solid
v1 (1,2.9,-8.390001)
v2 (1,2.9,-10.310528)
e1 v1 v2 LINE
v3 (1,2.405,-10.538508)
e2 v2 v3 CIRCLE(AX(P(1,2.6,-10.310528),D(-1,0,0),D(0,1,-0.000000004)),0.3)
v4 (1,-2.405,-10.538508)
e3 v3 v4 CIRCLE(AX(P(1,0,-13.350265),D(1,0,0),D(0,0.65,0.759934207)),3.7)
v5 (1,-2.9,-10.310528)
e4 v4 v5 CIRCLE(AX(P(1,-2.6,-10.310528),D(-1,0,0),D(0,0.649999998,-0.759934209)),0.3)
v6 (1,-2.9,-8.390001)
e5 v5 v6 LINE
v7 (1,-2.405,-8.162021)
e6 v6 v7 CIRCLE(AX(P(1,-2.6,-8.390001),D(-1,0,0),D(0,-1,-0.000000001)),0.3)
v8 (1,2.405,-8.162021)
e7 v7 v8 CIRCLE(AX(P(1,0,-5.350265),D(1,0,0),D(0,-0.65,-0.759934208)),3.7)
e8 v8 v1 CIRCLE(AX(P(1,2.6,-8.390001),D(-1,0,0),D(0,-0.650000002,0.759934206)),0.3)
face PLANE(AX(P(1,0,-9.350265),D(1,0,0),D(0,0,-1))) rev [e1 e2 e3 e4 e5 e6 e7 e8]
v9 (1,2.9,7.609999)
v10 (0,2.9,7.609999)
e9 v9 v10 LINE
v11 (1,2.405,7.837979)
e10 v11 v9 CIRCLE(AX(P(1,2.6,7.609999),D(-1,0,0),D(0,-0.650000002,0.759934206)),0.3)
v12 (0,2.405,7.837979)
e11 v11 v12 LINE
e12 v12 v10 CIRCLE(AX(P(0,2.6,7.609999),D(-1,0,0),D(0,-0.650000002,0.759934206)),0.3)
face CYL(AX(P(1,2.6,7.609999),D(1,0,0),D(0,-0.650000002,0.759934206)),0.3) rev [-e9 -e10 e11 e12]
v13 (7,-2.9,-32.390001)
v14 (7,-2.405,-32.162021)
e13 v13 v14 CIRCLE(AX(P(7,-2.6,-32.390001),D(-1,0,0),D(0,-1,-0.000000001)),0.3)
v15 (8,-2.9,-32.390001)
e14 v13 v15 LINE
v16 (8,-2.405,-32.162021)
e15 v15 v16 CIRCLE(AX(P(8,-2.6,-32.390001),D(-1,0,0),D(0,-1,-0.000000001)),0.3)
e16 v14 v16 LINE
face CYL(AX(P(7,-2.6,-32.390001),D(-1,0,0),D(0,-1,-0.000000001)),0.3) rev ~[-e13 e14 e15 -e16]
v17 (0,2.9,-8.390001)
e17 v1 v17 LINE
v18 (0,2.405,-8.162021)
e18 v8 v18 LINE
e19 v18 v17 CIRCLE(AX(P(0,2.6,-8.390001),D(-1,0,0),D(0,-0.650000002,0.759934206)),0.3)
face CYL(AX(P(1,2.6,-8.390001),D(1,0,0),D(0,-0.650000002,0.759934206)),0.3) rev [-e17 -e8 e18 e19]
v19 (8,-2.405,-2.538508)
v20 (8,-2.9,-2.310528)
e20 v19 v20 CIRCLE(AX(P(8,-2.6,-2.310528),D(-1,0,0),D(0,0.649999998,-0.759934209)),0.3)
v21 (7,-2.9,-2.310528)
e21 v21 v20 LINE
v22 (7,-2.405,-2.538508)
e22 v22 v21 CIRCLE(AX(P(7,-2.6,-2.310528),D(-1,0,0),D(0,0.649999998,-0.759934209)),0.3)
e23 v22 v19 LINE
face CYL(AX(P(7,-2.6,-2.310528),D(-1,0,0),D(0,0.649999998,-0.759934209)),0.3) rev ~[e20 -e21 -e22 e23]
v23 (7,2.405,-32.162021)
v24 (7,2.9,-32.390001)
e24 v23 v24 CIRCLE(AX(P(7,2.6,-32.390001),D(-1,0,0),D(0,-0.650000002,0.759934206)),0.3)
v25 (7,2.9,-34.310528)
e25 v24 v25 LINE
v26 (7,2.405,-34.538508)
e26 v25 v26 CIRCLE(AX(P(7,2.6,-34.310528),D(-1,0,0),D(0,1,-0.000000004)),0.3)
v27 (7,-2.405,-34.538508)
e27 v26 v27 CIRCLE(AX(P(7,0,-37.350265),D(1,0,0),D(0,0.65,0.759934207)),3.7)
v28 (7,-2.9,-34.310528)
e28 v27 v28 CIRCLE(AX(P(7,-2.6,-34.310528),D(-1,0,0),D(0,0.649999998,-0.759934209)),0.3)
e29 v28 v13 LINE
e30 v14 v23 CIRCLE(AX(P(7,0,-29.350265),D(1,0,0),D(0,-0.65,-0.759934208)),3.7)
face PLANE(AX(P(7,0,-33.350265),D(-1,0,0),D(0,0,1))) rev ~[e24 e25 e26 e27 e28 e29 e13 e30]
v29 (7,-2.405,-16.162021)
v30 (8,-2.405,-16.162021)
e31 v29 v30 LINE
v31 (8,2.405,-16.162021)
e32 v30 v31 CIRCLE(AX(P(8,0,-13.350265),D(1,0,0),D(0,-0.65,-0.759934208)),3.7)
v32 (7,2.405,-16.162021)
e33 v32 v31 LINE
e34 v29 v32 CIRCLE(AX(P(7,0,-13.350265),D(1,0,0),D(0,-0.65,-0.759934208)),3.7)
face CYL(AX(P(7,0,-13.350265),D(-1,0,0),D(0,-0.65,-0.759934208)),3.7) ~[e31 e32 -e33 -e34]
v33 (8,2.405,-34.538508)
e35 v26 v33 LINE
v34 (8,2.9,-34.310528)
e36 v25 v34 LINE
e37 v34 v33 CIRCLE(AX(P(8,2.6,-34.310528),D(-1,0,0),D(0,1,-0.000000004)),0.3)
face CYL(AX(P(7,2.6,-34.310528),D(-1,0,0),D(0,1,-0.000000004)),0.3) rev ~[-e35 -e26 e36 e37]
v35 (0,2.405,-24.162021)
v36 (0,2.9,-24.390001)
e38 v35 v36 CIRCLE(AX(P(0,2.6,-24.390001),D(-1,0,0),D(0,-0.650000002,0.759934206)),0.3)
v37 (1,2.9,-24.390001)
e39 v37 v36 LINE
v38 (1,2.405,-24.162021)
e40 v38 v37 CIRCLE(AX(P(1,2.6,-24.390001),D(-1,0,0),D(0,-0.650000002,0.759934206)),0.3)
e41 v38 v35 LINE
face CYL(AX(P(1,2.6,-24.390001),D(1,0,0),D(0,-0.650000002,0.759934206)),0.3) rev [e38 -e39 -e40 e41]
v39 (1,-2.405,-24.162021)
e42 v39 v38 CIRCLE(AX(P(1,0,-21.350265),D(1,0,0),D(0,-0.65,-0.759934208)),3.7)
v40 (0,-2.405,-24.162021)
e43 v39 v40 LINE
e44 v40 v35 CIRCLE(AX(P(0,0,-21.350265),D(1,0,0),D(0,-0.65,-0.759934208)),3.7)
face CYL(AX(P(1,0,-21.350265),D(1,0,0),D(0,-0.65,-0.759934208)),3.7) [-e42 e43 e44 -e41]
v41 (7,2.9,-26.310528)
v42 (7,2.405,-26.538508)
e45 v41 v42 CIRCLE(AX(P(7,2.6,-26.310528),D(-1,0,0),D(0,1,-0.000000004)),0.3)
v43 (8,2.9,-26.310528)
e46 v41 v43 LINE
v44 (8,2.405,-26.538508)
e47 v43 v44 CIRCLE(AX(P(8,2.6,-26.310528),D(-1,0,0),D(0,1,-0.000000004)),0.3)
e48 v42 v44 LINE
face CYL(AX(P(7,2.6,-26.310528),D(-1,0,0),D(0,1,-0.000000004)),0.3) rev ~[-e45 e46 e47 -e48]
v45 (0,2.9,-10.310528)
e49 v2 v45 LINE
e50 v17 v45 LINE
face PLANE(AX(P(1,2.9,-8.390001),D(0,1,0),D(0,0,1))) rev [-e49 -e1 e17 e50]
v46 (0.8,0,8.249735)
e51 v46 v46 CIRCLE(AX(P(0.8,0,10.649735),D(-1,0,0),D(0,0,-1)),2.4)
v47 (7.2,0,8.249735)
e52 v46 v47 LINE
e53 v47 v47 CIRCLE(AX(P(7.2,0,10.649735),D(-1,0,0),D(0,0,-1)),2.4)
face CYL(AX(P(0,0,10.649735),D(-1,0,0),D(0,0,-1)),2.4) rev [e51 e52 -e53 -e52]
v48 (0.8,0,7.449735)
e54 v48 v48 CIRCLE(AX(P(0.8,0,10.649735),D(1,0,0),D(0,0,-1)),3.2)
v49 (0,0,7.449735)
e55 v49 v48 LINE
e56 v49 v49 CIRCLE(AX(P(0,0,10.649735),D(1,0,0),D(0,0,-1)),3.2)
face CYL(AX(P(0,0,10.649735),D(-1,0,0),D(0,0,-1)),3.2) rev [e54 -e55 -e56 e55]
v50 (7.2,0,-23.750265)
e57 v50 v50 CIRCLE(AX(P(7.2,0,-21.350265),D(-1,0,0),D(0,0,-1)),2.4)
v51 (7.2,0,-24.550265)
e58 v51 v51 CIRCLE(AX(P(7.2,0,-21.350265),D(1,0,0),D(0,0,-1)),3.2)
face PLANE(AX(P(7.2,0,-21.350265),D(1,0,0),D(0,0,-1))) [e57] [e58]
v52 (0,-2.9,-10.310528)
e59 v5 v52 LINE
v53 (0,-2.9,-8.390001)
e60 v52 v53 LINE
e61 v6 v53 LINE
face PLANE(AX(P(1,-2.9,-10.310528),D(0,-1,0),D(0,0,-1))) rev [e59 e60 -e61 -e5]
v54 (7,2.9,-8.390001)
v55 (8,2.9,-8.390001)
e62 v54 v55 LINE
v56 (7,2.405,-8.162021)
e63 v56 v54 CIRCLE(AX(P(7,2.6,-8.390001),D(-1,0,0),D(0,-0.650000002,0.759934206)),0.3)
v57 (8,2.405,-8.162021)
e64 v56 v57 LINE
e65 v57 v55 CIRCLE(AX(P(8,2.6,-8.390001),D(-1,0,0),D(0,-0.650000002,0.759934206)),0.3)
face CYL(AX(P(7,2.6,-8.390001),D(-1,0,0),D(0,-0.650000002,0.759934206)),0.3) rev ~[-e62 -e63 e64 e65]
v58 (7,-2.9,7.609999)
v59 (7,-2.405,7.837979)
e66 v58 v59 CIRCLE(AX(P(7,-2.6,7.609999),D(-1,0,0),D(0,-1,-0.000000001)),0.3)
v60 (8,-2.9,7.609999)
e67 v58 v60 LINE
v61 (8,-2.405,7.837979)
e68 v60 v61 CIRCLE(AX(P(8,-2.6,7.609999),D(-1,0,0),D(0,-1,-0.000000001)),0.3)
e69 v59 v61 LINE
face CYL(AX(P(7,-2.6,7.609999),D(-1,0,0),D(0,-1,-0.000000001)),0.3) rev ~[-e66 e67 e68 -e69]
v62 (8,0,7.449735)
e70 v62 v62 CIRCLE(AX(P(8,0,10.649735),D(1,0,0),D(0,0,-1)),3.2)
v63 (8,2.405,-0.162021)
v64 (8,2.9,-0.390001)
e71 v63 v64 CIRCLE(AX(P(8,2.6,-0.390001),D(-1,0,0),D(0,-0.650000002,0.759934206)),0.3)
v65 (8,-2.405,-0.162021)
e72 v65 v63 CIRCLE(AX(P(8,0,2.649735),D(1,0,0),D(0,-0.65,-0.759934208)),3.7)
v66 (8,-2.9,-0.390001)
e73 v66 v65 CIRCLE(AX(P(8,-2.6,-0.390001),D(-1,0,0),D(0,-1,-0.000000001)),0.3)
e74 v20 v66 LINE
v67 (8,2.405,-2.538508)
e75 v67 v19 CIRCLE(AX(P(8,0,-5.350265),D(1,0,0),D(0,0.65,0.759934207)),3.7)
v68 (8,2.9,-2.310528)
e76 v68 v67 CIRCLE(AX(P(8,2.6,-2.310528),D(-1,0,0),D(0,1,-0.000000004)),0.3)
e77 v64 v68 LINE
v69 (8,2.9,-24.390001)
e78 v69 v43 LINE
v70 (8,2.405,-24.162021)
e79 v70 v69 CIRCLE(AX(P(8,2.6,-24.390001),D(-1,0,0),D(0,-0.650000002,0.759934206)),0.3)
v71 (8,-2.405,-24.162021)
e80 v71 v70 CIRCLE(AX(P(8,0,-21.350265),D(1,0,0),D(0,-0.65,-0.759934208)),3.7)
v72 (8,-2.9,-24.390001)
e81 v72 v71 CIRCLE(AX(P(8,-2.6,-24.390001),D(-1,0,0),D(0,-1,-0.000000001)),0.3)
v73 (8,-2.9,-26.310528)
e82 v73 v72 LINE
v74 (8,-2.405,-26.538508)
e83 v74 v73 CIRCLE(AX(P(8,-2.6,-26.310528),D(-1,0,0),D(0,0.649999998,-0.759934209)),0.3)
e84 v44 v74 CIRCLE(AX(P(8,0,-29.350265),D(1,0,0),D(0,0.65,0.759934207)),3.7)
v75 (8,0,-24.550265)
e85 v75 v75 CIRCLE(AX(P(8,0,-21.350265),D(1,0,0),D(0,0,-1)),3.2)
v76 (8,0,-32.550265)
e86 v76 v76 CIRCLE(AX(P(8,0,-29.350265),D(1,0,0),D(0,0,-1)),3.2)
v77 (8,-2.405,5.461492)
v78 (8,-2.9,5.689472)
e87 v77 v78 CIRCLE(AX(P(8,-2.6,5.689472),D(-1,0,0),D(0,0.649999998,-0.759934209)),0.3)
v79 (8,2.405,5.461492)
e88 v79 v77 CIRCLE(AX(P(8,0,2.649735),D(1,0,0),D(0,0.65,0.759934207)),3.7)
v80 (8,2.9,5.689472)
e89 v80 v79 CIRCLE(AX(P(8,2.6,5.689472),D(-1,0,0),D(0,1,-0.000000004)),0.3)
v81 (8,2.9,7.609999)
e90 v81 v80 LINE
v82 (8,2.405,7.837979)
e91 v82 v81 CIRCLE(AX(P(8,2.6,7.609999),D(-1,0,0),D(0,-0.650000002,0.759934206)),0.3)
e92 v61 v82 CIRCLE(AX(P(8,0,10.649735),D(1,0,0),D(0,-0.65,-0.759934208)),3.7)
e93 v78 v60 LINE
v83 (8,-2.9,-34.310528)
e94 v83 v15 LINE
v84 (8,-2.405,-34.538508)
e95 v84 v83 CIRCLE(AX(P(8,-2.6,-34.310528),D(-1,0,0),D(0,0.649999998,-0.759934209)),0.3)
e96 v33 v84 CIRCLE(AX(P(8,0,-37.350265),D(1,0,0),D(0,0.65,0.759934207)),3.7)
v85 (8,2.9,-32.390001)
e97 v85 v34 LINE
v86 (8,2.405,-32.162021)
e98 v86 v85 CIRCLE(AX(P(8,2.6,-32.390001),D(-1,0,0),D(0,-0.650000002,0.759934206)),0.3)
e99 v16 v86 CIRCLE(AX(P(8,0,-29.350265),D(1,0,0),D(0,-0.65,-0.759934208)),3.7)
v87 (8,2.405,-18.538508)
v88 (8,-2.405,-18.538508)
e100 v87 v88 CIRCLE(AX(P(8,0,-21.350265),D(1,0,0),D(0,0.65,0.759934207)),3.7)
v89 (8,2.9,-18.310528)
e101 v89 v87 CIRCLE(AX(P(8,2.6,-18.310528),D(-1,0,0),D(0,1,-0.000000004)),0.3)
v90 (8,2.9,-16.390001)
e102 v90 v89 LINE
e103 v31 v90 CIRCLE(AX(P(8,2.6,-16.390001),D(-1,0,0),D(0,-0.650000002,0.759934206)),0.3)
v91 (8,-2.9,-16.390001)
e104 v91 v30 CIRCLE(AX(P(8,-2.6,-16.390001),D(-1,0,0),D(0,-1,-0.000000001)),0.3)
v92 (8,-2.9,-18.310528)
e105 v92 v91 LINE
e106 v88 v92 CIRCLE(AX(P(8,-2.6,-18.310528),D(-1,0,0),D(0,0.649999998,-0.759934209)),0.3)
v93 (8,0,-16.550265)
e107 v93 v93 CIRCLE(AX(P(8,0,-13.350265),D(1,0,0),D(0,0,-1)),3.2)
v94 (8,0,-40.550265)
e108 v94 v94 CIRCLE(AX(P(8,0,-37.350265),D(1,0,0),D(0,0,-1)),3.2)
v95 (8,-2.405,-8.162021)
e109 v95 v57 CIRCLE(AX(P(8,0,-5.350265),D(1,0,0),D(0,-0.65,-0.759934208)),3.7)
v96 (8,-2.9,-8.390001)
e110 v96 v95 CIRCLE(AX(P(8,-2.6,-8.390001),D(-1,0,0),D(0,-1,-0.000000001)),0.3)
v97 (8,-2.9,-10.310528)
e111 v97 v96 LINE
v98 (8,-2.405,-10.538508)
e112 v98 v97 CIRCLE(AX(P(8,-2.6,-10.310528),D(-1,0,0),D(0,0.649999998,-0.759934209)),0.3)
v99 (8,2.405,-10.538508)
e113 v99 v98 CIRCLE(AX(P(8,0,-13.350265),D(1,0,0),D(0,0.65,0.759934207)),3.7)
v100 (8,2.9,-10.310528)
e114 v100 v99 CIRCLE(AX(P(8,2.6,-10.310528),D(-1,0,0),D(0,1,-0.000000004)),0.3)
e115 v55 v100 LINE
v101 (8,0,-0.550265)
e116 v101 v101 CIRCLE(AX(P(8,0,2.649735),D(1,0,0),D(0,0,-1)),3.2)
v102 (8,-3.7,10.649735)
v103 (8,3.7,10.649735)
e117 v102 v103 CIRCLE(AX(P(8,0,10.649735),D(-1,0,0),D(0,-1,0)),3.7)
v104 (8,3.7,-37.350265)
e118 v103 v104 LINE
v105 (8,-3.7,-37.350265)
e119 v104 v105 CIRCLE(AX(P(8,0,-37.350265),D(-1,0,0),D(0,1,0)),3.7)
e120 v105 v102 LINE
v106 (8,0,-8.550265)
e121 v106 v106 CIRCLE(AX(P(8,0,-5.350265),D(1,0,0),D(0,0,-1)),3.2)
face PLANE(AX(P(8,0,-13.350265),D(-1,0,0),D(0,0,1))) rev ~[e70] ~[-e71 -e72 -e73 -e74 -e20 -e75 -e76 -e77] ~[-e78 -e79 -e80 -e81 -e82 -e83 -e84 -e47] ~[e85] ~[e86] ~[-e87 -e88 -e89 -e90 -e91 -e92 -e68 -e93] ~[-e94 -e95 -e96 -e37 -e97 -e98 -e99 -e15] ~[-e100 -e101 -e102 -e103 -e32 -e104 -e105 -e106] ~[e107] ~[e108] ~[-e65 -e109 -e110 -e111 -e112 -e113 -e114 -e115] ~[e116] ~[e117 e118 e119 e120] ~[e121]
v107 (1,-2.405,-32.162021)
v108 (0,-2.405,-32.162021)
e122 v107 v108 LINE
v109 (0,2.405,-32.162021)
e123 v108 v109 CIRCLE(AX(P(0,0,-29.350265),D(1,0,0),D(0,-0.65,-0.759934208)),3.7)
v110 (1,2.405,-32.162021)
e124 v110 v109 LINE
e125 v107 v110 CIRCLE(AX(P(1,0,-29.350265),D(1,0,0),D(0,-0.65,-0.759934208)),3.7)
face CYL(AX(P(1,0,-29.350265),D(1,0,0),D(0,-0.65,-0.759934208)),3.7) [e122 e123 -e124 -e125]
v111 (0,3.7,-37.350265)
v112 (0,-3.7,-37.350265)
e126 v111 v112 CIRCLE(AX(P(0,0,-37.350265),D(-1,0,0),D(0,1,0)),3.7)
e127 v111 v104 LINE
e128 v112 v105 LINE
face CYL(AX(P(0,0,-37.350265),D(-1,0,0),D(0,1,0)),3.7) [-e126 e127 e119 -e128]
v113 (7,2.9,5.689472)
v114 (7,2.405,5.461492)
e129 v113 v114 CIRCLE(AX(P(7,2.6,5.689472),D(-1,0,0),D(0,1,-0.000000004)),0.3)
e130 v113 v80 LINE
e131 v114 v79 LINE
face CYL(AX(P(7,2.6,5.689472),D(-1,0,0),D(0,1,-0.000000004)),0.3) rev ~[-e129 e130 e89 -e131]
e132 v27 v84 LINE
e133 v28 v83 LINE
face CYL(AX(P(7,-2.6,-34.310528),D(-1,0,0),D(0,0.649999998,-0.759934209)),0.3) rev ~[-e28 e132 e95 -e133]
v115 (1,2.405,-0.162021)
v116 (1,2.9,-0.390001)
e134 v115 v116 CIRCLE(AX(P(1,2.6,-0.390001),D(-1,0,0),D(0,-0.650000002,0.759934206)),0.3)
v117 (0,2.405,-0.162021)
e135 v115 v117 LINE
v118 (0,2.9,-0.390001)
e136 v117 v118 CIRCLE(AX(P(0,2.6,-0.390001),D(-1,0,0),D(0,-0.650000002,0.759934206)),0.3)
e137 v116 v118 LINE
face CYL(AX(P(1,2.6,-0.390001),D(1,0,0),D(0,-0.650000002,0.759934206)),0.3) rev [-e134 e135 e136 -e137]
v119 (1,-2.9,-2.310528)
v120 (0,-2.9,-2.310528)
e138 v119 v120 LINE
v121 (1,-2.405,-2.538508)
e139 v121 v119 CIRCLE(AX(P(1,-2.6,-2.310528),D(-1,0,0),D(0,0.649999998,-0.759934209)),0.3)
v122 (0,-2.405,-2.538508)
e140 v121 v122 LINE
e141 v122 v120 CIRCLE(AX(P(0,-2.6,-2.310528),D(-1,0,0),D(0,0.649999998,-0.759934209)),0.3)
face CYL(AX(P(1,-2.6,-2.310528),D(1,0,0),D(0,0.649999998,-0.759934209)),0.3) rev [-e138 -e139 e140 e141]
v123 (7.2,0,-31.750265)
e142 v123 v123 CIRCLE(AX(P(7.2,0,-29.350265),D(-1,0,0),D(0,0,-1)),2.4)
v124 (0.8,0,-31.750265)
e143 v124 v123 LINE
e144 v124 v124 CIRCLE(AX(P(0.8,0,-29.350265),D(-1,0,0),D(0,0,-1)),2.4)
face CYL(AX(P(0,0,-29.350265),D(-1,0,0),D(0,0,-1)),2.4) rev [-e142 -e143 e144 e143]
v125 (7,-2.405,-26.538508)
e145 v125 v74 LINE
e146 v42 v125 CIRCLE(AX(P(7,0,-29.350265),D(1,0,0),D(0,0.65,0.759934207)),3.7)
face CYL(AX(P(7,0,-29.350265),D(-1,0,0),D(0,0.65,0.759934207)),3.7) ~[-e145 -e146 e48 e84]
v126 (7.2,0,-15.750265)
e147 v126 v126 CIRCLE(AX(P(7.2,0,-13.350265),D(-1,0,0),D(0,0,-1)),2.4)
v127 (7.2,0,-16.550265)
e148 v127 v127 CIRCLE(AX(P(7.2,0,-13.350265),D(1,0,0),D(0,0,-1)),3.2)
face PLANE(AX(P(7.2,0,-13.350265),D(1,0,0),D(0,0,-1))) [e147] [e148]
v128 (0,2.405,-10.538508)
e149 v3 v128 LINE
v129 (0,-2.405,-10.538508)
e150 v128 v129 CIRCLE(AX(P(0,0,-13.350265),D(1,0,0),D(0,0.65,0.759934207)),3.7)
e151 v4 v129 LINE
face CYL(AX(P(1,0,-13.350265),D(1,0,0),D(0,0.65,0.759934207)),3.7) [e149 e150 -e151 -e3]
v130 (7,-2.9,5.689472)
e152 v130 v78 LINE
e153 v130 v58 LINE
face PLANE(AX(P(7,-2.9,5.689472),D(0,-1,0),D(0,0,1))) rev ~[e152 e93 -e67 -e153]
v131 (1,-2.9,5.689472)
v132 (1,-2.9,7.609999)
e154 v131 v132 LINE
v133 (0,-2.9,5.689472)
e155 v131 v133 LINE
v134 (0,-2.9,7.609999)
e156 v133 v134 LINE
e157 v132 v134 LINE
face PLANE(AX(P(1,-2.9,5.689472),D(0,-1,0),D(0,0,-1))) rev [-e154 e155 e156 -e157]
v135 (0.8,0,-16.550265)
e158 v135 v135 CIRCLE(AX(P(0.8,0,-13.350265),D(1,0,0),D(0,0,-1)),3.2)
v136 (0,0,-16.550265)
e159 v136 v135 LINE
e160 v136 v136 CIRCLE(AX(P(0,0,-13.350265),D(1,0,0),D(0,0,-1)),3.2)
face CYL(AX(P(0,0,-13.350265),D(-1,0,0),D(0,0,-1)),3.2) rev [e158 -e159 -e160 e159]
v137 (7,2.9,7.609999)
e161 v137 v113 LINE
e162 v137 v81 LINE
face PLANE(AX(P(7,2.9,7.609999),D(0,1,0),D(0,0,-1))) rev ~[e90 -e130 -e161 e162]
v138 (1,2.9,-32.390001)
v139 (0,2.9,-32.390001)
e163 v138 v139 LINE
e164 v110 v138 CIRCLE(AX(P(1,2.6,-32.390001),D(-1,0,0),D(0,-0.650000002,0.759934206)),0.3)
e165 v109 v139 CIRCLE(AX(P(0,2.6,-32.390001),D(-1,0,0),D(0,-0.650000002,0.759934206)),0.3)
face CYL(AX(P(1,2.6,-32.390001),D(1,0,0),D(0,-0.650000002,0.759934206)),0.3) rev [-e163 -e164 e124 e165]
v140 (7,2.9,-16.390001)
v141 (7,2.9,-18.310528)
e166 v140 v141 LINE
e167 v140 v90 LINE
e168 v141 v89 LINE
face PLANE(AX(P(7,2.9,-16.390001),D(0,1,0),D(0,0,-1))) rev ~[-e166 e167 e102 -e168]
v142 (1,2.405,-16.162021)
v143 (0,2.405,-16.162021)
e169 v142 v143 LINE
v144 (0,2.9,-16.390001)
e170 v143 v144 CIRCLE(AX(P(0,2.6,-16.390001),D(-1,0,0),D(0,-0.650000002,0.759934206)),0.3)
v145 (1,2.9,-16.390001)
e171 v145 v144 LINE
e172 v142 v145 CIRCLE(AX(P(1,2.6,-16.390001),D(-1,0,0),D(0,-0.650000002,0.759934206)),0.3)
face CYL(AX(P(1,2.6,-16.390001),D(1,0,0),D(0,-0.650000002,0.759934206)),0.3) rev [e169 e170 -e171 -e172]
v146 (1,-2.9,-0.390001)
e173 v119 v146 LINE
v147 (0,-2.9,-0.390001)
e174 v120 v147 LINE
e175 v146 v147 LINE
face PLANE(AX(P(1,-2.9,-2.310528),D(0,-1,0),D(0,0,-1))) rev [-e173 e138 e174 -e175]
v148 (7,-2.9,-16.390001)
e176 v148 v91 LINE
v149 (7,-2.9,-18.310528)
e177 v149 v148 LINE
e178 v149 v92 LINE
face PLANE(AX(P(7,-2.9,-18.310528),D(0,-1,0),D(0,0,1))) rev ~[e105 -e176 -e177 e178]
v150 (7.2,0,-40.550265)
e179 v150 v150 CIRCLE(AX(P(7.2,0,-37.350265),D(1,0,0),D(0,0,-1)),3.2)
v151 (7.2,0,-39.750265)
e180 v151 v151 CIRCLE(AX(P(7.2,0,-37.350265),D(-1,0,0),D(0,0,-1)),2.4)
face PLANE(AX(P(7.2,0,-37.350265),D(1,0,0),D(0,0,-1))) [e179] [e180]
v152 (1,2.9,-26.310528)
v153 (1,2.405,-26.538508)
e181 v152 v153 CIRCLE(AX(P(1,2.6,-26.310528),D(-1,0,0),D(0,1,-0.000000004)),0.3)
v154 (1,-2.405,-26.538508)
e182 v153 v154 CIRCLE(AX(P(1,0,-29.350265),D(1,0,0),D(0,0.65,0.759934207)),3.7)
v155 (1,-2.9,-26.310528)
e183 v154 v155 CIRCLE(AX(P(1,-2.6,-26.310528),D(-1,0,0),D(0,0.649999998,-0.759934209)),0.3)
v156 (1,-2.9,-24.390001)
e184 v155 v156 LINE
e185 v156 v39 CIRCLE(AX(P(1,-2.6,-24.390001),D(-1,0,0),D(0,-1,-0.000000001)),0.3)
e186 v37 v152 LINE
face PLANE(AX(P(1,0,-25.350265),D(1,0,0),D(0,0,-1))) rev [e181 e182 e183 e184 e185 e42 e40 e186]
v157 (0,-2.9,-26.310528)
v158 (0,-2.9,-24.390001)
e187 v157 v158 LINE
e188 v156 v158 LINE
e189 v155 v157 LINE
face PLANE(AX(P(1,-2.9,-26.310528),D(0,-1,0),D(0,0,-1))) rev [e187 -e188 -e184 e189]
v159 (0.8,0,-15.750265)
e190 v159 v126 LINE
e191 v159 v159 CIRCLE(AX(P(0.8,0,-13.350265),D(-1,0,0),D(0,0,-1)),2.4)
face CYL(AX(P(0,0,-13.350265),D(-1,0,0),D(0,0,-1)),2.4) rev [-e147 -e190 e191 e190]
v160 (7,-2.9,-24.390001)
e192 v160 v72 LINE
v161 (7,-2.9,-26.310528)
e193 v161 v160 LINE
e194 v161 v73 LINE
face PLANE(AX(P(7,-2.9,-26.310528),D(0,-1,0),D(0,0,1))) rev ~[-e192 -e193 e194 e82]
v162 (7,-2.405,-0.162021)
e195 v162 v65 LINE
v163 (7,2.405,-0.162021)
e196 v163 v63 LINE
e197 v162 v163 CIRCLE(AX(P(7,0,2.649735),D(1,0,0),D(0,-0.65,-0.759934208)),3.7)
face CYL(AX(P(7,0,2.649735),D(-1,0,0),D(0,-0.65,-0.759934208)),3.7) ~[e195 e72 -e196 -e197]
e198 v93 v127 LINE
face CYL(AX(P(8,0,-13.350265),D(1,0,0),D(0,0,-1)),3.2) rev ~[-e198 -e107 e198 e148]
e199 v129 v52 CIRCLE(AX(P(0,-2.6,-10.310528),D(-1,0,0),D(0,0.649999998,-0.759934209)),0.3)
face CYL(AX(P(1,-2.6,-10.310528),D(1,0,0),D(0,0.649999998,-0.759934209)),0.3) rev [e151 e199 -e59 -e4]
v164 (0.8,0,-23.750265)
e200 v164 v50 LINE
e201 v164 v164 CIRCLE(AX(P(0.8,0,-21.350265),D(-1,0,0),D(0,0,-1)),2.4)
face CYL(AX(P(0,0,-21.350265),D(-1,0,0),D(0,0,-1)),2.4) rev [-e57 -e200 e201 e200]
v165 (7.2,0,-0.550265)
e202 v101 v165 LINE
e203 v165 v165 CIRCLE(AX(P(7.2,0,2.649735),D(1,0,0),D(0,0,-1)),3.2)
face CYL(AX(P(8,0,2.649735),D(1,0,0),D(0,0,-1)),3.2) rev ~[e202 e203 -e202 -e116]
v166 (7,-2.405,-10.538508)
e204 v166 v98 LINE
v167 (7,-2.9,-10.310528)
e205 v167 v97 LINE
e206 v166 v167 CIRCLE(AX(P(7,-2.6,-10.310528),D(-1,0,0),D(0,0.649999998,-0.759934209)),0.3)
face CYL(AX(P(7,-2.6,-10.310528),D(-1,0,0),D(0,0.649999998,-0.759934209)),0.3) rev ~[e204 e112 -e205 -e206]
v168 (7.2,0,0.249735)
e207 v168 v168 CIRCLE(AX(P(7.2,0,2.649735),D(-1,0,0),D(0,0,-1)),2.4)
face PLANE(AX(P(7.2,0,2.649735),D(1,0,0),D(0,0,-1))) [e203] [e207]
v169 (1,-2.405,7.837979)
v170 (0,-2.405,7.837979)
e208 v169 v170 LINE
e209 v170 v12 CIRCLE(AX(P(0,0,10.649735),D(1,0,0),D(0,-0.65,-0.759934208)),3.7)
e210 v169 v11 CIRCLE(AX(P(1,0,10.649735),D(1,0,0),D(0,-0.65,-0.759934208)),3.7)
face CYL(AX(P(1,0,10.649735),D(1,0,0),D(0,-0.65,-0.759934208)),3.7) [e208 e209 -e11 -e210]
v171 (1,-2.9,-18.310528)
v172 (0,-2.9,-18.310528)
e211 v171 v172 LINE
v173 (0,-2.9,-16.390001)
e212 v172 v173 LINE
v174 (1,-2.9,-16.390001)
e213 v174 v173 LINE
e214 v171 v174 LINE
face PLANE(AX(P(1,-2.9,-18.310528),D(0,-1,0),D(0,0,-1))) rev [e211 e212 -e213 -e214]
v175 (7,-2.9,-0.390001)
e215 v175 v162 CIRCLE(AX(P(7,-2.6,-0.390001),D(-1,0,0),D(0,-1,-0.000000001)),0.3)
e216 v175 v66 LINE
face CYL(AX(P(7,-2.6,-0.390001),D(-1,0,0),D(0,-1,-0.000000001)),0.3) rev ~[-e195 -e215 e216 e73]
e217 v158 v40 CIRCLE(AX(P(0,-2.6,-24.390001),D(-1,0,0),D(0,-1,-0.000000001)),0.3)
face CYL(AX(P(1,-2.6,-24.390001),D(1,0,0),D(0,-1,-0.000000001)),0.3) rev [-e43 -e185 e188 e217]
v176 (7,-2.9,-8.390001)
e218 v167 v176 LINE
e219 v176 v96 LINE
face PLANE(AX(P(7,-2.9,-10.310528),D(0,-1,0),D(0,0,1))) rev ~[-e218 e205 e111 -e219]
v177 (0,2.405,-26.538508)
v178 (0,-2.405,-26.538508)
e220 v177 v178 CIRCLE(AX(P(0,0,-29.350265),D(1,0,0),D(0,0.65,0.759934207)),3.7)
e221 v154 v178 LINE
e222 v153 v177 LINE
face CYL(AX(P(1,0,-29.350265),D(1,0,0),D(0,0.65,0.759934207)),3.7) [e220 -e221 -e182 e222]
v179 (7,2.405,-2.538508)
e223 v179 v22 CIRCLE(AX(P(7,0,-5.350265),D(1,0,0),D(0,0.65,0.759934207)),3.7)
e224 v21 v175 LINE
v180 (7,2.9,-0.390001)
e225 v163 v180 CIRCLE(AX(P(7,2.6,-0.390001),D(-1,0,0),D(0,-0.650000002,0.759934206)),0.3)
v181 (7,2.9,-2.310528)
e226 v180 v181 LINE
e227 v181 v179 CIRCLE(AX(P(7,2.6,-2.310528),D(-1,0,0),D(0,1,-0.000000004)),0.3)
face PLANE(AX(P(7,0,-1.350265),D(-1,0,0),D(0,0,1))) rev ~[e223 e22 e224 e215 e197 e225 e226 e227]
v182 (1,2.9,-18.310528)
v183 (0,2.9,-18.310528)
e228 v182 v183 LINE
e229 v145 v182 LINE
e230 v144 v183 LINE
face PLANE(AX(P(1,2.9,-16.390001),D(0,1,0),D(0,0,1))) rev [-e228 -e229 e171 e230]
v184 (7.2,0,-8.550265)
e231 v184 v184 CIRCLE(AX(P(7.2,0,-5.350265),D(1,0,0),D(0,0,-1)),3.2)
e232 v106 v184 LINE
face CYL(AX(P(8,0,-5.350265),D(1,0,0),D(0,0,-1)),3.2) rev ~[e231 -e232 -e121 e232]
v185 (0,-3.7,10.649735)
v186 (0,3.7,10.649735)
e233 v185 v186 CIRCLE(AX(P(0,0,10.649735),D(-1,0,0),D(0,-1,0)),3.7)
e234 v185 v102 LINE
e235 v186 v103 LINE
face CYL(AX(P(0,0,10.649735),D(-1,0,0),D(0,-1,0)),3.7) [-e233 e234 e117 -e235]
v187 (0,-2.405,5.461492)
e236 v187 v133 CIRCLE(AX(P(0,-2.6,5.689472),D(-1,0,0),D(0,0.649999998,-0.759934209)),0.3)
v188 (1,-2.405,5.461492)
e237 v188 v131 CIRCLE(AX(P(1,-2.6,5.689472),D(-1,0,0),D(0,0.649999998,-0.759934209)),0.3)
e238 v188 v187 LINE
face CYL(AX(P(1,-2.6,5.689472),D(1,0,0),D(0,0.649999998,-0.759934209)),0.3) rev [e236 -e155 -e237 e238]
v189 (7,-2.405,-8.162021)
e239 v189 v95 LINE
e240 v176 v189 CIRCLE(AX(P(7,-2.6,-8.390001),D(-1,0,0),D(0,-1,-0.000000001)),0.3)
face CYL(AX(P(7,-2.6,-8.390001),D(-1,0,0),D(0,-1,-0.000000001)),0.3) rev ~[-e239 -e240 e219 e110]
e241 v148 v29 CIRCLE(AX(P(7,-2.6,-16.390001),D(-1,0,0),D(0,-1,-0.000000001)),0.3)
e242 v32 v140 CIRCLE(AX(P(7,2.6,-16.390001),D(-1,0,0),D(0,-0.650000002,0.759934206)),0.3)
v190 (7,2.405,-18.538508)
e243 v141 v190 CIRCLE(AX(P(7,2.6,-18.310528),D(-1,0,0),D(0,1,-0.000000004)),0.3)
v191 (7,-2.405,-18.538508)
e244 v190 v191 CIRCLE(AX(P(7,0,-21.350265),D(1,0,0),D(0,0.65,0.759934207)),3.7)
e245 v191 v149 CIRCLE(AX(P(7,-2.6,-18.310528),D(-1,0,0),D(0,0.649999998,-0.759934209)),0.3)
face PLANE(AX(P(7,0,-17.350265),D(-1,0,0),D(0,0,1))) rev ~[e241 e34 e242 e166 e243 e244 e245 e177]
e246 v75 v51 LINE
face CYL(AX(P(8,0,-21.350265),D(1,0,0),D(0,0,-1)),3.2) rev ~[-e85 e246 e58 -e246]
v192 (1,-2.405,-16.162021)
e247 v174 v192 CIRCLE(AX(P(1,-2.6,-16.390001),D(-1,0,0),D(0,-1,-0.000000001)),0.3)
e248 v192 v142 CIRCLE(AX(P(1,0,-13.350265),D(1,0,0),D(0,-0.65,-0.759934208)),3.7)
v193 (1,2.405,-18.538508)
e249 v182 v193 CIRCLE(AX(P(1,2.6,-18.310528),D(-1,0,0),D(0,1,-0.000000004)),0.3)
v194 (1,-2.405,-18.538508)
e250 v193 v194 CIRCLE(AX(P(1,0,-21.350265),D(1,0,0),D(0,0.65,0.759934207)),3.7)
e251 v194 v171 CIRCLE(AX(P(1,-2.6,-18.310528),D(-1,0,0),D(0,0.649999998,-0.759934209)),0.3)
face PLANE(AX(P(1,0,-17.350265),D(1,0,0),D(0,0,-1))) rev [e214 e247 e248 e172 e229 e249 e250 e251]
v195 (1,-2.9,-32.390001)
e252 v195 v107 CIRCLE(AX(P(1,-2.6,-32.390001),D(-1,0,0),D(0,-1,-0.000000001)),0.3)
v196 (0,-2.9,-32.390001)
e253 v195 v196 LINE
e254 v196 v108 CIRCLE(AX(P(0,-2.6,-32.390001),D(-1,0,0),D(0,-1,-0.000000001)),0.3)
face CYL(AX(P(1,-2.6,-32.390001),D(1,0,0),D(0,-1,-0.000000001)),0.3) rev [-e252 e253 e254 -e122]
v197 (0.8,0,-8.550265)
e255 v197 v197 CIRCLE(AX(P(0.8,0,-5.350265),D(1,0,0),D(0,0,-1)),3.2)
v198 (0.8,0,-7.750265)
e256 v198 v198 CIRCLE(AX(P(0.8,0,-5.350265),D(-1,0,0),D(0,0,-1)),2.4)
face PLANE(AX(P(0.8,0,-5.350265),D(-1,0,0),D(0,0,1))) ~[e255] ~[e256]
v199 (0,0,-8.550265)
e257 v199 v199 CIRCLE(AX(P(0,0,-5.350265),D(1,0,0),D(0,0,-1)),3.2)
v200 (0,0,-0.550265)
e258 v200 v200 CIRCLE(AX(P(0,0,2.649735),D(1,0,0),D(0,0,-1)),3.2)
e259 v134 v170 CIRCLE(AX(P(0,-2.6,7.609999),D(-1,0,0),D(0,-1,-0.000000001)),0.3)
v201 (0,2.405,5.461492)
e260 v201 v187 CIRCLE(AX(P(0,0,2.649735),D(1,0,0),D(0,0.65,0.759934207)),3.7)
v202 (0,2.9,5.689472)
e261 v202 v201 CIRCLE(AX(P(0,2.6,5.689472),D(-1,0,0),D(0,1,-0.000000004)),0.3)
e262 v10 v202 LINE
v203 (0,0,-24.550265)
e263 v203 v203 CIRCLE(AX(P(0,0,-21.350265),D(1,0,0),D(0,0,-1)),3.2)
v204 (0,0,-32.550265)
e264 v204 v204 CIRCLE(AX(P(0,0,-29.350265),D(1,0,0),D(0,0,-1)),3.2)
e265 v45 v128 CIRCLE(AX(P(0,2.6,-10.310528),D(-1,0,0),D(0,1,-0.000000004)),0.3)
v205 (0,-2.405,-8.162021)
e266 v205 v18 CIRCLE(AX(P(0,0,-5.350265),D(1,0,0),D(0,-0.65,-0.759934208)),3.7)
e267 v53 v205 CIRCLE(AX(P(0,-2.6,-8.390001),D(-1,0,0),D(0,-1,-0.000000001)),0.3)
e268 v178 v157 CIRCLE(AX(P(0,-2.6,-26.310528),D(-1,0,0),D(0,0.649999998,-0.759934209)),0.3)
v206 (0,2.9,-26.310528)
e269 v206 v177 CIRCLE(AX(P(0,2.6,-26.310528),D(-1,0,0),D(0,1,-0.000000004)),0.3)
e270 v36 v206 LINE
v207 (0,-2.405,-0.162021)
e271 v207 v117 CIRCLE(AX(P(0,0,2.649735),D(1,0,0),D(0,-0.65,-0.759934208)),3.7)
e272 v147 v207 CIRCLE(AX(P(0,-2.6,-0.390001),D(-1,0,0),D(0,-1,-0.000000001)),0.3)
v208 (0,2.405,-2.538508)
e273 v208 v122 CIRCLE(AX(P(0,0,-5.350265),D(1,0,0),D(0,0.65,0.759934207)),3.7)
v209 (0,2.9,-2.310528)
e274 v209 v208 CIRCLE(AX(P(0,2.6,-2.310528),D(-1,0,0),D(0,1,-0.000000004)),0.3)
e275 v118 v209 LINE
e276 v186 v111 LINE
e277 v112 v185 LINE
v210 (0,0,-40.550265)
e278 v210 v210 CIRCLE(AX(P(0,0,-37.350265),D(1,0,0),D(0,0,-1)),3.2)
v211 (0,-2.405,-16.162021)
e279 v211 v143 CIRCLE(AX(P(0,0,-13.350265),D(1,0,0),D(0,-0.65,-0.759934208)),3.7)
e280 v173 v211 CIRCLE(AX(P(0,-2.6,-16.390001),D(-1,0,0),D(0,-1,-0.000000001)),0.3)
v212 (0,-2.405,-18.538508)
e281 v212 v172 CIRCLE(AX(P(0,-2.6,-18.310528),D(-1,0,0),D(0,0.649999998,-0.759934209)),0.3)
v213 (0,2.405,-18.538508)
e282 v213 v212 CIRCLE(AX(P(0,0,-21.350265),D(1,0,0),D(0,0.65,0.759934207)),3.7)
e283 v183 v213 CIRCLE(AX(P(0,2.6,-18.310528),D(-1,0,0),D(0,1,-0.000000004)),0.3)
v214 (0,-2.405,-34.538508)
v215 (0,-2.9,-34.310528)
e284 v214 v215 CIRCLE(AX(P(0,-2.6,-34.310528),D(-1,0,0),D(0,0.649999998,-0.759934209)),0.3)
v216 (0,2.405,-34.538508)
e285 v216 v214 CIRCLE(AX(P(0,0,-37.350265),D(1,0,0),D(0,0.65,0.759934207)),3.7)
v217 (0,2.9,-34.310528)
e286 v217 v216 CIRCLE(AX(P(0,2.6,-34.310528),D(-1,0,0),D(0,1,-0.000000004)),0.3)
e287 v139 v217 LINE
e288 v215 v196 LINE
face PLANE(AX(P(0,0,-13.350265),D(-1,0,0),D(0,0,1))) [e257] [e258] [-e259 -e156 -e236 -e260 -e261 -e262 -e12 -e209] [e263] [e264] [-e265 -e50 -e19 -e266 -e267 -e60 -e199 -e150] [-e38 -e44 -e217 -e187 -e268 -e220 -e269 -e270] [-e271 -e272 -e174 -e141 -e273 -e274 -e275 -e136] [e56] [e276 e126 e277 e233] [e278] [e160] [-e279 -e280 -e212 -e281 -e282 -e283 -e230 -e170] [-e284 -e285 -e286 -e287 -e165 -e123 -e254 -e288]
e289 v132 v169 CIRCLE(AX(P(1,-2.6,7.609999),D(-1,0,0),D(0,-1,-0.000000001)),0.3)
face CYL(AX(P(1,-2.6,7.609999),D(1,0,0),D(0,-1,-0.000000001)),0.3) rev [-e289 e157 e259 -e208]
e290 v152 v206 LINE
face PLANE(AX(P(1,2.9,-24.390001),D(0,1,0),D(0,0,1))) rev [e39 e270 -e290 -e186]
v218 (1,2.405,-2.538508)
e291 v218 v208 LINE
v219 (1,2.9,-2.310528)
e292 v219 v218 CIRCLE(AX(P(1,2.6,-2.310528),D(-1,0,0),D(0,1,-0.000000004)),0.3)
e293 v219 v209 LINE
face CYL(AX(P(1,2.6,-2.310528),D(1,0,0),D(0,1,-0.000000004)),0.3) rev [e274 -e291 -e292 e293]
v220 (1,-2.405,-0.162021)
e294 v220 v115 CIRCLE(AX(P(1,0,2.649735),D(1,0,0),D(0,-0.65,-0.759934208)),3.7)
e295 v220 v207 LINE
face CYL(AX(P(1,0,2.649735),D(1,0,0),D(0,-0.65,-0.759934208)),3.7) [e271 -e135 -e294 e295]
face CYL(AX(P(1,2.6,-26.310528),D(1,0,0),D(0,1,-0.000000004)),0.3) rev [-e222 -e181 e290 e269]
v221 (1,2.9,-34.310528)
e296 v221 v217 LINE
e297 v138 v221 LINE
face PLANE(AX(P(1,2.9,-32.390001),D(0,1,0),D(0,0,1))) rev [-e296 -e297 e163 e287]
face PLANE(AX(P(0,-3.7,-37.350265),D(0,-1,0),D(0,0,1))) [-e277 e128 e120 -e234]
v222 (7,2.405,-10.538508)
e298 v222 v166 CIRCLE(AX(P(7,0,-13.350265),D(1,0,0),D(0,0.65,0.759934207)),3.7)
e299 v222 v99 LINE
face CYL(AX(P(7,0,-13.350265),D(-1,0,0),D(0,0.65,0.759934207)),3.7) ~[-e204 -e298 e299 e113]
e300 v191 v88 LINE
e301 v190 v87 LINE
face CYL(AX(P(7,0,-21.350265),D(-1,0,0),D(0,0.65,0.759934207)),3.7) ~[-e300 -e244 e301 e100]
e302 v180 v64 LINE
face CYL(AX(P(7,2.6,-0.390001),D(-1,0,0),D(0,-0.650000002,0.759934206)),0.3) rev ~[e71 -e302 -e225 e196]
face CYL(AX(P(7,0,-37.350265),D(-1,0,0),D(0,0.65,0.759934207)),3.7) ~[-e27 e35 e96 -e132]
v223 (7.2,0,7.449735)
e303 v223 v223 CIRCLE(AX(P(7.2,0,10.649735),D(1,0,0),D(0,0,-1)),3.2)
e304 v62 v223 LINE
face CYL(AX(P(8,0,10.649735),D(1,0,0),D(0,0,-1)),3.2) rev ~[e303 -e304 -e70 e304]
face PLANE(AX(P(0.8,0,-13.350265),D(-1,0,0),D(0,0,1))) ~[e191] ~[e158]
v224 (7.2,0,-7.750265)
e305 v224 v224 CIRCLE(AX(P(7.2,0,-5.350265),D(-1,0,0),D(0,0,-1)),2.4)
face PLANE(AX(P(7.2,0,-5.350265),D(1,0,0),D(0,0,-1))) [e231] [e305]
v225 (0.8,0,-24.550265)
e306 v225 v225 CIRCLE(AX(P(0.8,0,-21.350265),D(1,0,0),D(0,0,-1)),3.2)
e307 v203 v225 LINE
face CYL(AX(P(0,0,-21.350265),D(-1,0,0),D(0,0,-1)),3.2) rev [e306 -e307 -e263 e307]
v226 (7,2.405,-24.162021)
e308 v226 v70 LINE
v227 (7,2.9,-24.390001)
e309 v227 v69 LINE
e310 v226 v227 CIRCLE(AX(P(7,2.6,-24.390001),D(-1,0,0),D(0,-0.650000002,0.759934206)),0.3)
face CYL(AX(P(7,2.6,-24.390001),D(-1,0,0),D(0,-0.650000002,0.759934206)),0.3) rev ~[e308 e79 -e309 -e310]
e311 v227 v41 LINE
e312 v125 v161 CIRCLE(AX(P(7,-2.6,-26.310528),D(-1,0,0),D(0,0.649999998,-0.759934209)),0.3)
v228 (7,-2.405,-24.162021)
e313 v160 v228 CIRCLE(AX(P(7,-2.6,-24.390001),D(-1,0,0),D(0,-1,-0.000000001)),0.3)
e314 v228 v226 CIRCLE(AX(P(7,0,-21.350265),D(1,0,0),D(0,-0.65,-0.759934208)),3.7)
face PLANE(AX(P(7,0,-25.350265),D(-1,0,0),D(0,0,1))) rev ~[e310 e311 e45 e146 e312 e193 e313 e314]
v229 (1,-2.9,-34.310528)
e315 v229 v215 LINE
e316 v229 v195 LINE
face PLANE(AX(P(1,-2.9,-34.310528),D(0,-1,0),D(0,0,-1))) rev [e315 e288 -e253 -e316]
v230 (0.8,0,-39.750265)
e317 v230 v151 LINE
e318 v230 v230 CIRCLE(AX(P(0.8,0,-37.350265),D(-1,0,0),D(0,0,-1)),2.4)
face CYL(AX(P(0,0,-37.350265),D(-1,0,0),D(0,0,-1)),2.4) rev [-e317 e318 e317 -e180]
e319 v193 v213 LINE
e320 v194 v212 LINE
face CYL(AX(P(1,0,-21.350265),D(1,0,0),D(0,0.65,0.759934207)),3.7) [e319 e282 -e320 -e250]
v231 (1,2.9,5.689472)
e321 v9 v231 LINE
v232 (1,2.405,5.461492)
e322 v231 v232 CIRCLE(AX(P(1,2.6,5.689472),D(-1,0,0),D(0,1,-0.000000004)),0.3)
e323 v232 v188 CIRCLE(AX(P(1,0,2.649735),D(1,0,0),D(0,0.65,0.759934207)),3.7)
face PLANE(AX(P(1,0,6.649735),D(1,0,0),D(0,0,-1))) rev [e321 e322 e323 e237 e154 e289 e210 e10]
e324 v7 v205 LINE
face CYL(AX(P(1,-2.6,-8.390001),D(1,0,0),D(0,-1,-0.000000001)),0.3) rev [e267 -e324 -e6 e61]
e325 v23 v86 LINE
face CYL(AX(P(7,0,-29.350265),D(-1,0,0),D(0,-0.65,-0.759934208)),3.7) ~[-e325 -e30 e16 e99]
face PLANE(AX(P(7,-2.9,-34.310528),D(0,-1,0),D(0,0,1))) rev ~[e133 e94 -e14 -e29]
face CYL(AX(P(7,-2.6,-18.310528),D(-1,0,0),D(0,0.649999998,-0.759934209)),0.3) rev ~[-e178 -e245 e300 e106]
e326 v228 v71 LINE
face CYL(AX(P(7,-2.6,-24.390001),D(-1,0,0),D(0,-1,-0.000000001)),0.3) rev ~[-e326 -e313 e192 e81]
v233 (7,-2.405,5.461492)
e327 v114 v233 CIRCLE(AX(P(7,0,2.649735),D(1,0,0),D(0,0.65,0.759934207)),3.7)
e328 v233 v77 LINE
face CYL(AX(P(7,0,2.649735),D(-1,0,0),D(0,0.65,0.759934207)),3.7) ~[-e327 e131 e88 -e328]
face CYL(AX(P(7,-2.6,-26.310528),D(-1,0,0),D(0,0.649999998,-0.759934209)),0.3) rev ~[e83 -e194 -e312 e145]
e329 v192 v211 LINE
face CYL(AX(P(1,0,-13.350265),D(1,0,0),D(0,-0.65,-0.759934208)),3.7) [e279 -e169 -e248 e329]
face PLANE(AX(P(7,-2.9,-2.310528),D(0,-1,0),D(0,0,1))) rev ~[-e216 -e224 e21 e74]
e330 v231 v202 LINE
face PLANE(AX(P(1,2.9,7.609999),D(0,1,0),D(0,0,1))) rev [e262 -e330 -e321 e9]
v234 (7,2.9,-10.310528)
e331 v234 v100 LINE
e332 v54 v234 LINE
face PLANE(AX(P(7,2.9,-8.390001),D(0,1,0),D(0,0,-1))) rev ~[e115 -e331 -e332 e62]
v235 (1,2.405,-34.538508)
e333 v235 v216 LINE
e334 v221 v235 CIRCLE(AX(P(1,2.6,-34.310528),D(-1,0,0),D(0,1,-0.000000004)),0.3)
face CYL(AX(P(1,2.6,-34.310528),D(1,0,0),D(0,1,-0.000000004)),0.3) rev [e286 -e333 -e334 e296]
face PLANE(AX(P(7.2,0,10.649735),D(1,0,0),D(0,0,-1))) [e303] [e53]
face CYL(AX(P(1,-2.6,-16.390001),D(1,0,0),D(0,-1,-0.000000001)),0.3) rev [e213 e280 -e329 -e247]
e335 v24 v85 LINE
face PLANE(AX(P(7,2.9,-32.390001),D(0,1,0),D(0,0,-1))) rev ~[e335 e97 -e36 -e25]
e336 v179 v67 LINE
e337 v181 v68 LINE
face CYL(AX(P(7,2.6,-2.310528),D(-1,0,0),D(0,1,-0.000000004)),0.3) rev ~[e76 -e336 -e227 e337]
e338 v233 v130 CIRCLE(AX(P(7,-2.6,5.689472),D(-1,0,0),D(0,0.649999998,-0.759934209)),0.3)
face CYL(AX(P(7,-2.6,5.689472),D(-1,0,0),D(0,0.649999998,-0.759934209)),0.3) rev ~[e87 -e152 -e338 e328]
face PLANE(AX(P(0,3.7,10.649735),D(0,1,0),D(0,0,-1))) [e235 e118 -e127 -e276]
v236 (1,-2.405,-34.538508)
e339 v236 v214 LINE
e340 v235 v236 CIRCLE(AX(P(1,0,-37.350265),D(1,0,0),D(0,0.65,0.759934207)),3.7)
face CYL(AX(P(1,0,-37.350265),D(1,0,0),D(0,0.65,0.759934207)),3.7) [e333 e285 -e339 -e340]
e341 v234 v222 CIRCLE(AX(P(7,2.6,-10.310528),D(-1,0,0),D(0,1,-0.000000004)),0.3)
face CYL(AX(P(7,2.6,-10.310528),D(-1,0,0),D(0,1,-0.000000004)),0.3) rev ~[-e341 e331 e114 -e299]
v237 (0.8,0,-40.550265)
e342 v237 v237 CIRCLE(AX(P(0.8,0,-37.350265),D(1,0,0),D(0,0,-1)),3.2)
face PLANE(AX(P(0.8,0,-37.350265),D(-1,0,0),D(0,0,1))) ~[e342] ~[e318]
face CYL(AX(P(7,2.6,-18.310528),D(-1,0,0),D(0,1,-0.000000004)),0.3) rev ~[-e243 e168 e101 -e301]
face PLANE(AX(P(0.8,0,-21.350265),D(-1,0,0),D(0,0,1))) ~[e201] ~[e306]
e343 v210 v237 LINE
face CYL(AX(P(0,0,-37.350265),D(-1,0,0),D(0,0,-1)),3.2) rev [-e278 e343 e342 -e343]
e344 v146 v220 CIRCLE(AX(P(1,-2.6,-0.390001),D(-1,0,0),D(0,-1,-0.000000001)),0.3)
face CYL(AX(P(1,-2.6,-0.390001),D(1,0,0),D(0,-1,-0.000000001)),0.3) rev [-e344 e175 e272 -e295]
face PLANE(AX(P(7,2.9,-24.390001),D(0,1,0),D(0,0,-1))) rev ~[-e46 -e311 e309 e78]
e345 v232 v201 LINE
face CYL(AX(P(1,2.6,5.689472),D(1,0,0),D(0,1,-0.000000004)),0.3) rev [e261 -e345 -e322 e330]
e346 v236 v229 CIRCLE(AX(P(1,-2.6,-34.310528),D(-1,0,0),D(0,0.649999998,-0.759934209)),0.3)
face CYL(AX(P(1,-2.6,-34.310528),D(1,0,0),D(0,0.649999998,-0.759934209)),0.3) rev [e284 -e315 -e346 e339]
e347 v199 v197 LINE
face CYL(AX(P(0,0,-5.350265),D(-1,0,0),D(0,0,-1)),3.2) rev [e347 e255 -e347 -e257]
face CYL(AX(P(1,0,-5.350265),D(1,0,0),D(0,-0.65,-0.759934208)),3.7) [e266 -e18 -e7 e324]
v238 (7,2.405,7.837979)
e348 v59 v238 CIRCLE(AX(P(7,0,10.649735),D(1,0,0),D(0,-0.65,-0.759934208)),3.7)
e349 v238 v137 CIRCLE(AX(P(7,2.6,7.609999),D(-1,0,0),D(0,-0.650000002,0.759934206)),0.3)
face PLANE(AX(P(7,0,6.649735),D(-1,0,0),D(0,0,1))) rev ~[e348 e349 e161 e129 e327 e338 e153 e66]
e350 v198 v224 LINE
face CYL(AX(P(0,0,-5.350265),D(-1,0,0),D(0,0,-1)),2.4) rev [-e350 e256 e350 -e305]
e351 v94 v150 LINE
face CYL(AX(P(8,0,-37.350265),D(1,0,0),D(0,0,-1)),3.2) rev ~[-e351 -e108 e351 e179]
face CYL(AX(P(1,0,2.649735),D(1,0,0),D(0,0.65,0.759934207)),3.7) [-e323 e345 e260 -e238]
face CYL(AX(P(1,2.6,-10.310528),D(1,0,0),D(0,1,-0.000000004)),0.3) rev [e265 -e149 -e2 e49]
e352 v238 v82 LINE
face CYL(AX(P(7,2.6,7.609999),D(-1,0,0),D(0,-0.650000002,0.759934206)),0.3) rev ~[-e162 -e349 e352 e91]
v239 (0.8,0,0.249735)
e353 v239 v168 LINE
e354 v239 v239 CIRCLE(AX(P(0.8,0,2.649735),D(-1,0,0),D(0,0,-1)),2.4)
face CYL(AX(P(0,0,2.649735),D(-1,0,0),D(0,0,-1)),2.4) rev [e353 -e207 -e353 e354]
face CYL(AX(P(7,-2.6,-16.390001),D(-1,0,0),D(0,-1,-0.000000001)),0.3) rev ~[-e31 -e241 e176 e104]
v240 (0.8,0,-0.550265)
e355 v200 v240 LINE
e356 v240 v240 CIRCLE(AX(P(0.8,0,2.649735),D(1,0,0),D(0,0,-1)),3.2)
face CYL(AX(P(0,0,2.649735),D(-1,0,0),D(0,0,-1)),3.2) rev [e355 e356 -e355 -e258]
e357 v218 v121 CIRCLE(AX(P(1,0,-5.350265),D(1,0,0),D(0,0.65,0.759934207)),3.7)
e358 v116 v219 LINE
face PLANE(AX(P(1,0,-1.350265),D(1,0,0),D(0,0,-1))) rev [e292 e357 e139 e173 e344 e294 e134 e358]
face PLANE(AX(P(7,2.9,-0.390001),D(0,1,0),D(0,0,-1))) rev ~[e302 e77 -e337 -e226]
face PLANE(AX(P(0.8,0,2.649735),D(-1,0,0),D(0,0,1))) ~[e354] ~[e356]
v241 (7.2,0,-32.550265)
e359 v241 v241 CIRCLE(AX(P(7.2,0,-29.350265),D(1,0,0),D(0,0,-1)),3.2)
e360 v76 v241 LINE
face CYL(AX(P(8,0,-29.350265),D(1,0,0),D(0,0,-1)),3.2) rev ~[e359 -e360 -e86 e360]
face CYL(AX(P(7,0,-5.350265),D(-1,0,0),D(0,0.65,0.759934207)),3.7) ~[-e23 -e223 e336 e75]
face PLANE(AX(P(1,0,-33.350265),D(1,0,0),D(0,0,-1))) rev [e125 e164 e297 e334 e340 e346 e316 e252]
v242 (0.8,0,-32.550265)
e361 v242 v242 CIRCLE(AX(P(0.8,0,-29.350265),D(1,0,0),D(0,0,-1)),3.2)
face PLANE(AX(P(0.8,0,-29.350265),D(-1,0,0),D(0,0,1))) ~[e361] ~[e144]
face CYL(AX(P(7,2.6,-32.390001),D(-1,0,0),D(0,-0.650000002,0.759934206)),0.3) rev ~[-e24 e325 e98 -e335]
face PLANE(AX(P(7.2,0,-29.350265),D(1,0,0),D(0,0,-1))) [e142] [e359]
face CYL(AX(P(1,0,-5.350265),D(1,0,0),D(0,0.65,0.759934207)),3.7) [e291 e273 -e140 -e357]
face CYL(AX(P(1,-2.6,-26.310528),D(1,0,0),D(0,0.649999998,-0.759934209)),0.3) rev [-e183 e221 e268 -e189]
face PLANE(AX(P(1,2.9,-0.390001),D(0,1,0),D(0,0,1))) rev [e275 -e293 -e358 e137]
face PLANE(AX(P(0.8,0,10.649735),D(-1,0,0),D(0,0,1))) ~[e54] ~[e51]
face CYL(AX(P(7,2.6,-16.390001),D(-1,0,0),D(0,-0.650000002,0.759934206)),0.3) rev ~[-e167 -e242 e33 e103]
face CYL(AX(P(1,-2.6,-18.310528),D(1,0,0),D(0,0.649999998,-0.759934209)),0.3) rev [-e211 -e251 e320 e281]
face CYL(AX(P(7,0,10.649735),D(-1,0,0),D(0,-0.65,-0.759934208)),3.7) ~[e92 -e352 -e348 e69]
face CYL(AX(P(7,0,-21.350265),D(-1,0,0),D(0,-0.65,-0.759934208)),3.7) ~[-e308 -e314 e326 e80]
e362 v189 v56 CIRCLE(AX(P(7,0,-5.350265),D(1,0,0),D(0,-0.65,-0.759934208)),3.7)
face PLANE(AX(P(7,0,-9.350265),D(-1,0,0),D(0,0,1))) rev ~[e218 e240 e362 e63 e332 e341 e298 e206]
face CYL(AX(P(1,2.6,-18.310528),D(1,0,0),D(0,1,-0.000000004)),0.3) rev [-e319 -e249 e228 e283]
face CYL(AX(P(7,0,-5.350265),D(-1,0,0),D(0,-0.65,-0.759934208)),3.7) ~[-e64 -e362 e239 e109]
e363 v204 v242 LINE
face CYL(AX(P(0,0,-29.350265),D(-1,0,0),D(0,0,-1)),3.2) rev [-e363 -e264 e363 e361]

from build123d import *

# Parameters (mm, degrees)
SKETCH1_R           = 2.4
BOSS_EXTRUDE1_DEPTH = 8
SKETCH2_R           = 3.2
CUT_EXTRUDE1_DEPTH  = 0.8
CUT_EXTRUDE2_START  = -1
CUT_EXTRUDE2_DEPTH  = 1


with BuildPart() as part:
    # Sketch1 → Boss-Extrude1 (new body)
    with BuildSketch(Plane(origin=(0, 0, 0), x_dir=(0, 0, -1), z_dir=(1, 0, 0))):
        with BuildLine():
            Line((-10.64973545, 3.7), (37.35026455, 3.7))
            ThreePointArc((37.35026455, 3.7), (41.05026455, 0), (37.35026455, -3.7))
            Line((37.35026455, -3.7), (-10.64973545, -3.7))
            ThreePointArc((-10.64973545, -3.7), (-14.34973545, 0), (-10.64973545, 3.7))
        make_face()
        with Locations((-10.64973545, 0)):
            Circle(SKETCH1_R, mode=Mode.SUBTRACT)
        with Locations((-2.64973545, 0)):
            Circle(SKETCH1_R, mode=Mode.SUBTRACT)
        with Locations((5.35026455, 0)):
            Circle(SKETCH1_R, mode=Mode.SUBTRACT)
        with Locations((13.35026455, 0)):
            Circle(SKETCH1_R, mode=Mode.SUBTRACT)
        with Locations((21.35026455, 0)):
            Circle(SKETCH1_R, mode=Mode.SUBTRACT)
        with Locations((29.35026455, 0)):
            Circle(SKETCH1_R, mode=Mode.SUBTRACT)
        with Locations((37.35026455, 0)):
            Circle(SKETCH1_R, mode=Mode.SUBTRACT)
    extrude(amount=BOSS_EXTRUDE1_DEPTH)

    # Sketch2 → Cut-Extrude1 (cut)
    with BuildSketch(Plane(origin=(8, 0, 0), x_dir=(0, 0, -1), z_dir=(1, 0, 0))):
        with Locations((-10.64973545, 0)):
            Circle(SKETCH2_R)
        with Locations((-2.64973545, 0)):
            Circle(SKETCH2_R)
        with Locations((5.35026455, 0)):
            Circle(SKETCH2_R)
        with Locations((13.35026455, 0)):
            Circle(SKETCH2_R)
        with Locations((21.35026455, 0)):
            Circle(SKETCH2_R)
        with Locations((29.35026455, 0)):
            Circle(SKETCH2_R)
        with Locations((37.35026455, 0)):
            Circle(SKETCH2_R)
    cut_extrude1 = extrude(amount=-CUT_EXTRUDE1_DEPTH, mode=Mode.SUBTRACT)

    # Sketch3 → Cut-Extrude2 (cut)
    with BuildSketch(Plane(origin=(8, 0, 0), x_dir=(0, 0, -1), z_dir=(1, 0, 0)).offset(CUT_EXTRUDE2_START)):
        with BuildLine():
            Line((-7.609998619, 2.9), (-5.68947228, 2.9))
            ThreePointArc((-5.68947228, 2.9), (-5.416983749, 2.725499004), (-5.461492018, 2.405))
            ThreePointArc((-5.461492018, 2.405), (-6.34973545, 0), (-5.461492018, -2.405))
            ThreePointArc((-5.461492018, -2.405), (-5.416983749, -2.725499004), (-5.68947228, -2.9))
            Line((-5.68947228, -2.9), (-7.609998619, -2.9))
            ThreePointArc((-7.609998619, -2.9), (-7.882487151, -2.725499004), (-7.837978881, -2.405))
            ThreePointArc((-7.837978881, -2.405), (-6.94973545, 0), (-7.837978881, 2.405))
            ThreePointArc((-7.837978881, 2.405), (-7.882487151, 2.725499004), (-7.609998619, 2.9))
        make_face()
        with BuildLine():
            Line((0.390001381, 2.9), (2.31052772, 2.9))
            ThreePointArc((2.31052772, 2.9), (2.583016251, 2.725499004), (2.538507982, 2.405))
            ThreePointArc((2.538507982, 2.405), (1.65026455, 0), (2.538507982, -2.405))
            ThreePointArc((2.538507982, -2.405), (2.583016251, -2.725499004), (2.31052772, -2.9))
            Line((2.31052772, -2.9), (0.390001381, -2.9))
            ThreePointArc((0.390001381, -2.9), (0.117512849, -2.725499004), (0.162021119, -2.405))
            ThreePointArc((0.162021119, -2.405), (1.05026455, 0), (0.162021119, 2.405))
            ThreePointArc((0.162021119, 2.405), (0.117512849, 2.725499004), (0.390001381, 2.9))
        make_face()
        with BuildLine():
            Line((8.390001381, 2.9), (10.31052772, 2.9))
            ThreePointArc((10.31052772, 2.9), (10.583016251, 2.725499004), (10.538507982, 2.405))
            ThreePointArc((10.538507982, 2.405), (9.65026455, 0), (10.538507982, -2.405))
            ThreePointArc((10.538507982, -2.405), (10.583016251, -2.725499004), (10.31052772, -2.9))
            Line((10.31052772, -2.9), (8.390001381, -2.9))
            ThreePointArc((8.390001381, -2.9), (8.117512849, -2.725499004), (8.162021119, -2.405))
            ThreePointArc((8.162021119, -2.405), (9.05026455, 0), (8.162021119, 2.405))
            ThreePointArc((8.162021119, 2.405), (8.117512849, 2.725499004), (8.390001381, 2.9))
        make_face()
        with BuildLine():
            Line((16.390001381, 2.9), (18.31052772, 2.9))
            ThreePointArc((18.31052772, 2.9), (18.583016251, 2.725499004), (18.538507982, 2.405))
            ThreePointArc((18.538507982, 2.405), (17.65026455, 0), (18.538507982, -2.405))
            ThreePointArc((18.538507982, -2.405), (18.583016251, -2.725499004), (18.31052772, -2.9))
            Line((18.31052772, -2.9), (16.390001381, -2.9))
            ThreePointArc((16.390001381, -2.9), (16.117512849, -2.725499004), (16.162021119, -2.405))
            ThreePointArc((16.162021119, -2.405), (17.05026455, 0), (16.162021119, 2.405))
            ThreePointArc((16.162021119, 2.405), (16.117512849, 2.725499004), (16.390001381, 2.9))
        make_face()
        with BuildLine():
            Line((24.390001381, 2.9), (26.31052772, 2.9))
            ThreePointArc((26.31052772, 2.9), (26.583016251, 2.725499004), (26.538507982, 2.405))
            ThreePointArc((26.538507982, 2.405), (25.65026455, 0), (26.538507982, -2.405))
            ThreePointArc((26.538507982, -2.405), (26.583016251, -2.725499004), (26.31052772, -2.9))
            Line((26.31052772, -2.9), (24.390001381, -2.9))
            ThreePointArc((24.390001381, -2.9), (24.117512849, -2.725499004), (24.162021119, -2.405))
            ThreePointArc((24.162021119, -2.405), (25.05026455, 0), (24.162021119, 2.405))
            ThreePointArc((24.162021119, 2.405), (24.117512849, 2.725499004), (24.390001381, 2.9))
        make_face()
        with BuildLine():
            Line((32.390001381, 2.9), (34.31052772, 2.9))
            ThreePointArc((34.31052772, 2.9), (34.583016251, 2.725499004), (34.538507982, 2.405))
            ThreePointArc((34.538507982, 2.405), (33.65026455, 0), (34.538507982, -2.405))
            ThreePointArc((34.538507982, -2.405), (34.583016251, -2.725499004), (34.31052772, -2.9))
            Line((34.31052772, -2.9), (32.390001381, -2.9))
            ThreePointArc((32.390001381, -2.9), (32.117512849, -2.725499004), (32.162021119, -2.405))
            ThreePointArc((32.162021119, -2.405), (33.05026455, 0), (32.162021119, 2.405))
            ThreePointArc((32.162021119, 2.405), (32.117512849, 2.725499004), (32.390001381, 2.9))
        make_face()
    cut_extrude2 = extrude(amount=CUT_EXTRUDE2_DEPTH, mode=Mode.SUBTRACT)

    # Mirror1: Cut-Extrude1, Cut-Extrude2 across plane
    add(cut_extrude1.mirror(Plane(origin=(4, 0, 0), x_dir=(0, 0, 1), z_dir=(1, 0, 0))), mode=Mode.SUBTRACT)
    add(cut_extrude2.mirror(Plane(origin=(4, 0, 0), x_dir=(0, 0, 1), z_dir=(1, 0, 0))), mode=Mode.SUBTRACT)


solid = part.part
